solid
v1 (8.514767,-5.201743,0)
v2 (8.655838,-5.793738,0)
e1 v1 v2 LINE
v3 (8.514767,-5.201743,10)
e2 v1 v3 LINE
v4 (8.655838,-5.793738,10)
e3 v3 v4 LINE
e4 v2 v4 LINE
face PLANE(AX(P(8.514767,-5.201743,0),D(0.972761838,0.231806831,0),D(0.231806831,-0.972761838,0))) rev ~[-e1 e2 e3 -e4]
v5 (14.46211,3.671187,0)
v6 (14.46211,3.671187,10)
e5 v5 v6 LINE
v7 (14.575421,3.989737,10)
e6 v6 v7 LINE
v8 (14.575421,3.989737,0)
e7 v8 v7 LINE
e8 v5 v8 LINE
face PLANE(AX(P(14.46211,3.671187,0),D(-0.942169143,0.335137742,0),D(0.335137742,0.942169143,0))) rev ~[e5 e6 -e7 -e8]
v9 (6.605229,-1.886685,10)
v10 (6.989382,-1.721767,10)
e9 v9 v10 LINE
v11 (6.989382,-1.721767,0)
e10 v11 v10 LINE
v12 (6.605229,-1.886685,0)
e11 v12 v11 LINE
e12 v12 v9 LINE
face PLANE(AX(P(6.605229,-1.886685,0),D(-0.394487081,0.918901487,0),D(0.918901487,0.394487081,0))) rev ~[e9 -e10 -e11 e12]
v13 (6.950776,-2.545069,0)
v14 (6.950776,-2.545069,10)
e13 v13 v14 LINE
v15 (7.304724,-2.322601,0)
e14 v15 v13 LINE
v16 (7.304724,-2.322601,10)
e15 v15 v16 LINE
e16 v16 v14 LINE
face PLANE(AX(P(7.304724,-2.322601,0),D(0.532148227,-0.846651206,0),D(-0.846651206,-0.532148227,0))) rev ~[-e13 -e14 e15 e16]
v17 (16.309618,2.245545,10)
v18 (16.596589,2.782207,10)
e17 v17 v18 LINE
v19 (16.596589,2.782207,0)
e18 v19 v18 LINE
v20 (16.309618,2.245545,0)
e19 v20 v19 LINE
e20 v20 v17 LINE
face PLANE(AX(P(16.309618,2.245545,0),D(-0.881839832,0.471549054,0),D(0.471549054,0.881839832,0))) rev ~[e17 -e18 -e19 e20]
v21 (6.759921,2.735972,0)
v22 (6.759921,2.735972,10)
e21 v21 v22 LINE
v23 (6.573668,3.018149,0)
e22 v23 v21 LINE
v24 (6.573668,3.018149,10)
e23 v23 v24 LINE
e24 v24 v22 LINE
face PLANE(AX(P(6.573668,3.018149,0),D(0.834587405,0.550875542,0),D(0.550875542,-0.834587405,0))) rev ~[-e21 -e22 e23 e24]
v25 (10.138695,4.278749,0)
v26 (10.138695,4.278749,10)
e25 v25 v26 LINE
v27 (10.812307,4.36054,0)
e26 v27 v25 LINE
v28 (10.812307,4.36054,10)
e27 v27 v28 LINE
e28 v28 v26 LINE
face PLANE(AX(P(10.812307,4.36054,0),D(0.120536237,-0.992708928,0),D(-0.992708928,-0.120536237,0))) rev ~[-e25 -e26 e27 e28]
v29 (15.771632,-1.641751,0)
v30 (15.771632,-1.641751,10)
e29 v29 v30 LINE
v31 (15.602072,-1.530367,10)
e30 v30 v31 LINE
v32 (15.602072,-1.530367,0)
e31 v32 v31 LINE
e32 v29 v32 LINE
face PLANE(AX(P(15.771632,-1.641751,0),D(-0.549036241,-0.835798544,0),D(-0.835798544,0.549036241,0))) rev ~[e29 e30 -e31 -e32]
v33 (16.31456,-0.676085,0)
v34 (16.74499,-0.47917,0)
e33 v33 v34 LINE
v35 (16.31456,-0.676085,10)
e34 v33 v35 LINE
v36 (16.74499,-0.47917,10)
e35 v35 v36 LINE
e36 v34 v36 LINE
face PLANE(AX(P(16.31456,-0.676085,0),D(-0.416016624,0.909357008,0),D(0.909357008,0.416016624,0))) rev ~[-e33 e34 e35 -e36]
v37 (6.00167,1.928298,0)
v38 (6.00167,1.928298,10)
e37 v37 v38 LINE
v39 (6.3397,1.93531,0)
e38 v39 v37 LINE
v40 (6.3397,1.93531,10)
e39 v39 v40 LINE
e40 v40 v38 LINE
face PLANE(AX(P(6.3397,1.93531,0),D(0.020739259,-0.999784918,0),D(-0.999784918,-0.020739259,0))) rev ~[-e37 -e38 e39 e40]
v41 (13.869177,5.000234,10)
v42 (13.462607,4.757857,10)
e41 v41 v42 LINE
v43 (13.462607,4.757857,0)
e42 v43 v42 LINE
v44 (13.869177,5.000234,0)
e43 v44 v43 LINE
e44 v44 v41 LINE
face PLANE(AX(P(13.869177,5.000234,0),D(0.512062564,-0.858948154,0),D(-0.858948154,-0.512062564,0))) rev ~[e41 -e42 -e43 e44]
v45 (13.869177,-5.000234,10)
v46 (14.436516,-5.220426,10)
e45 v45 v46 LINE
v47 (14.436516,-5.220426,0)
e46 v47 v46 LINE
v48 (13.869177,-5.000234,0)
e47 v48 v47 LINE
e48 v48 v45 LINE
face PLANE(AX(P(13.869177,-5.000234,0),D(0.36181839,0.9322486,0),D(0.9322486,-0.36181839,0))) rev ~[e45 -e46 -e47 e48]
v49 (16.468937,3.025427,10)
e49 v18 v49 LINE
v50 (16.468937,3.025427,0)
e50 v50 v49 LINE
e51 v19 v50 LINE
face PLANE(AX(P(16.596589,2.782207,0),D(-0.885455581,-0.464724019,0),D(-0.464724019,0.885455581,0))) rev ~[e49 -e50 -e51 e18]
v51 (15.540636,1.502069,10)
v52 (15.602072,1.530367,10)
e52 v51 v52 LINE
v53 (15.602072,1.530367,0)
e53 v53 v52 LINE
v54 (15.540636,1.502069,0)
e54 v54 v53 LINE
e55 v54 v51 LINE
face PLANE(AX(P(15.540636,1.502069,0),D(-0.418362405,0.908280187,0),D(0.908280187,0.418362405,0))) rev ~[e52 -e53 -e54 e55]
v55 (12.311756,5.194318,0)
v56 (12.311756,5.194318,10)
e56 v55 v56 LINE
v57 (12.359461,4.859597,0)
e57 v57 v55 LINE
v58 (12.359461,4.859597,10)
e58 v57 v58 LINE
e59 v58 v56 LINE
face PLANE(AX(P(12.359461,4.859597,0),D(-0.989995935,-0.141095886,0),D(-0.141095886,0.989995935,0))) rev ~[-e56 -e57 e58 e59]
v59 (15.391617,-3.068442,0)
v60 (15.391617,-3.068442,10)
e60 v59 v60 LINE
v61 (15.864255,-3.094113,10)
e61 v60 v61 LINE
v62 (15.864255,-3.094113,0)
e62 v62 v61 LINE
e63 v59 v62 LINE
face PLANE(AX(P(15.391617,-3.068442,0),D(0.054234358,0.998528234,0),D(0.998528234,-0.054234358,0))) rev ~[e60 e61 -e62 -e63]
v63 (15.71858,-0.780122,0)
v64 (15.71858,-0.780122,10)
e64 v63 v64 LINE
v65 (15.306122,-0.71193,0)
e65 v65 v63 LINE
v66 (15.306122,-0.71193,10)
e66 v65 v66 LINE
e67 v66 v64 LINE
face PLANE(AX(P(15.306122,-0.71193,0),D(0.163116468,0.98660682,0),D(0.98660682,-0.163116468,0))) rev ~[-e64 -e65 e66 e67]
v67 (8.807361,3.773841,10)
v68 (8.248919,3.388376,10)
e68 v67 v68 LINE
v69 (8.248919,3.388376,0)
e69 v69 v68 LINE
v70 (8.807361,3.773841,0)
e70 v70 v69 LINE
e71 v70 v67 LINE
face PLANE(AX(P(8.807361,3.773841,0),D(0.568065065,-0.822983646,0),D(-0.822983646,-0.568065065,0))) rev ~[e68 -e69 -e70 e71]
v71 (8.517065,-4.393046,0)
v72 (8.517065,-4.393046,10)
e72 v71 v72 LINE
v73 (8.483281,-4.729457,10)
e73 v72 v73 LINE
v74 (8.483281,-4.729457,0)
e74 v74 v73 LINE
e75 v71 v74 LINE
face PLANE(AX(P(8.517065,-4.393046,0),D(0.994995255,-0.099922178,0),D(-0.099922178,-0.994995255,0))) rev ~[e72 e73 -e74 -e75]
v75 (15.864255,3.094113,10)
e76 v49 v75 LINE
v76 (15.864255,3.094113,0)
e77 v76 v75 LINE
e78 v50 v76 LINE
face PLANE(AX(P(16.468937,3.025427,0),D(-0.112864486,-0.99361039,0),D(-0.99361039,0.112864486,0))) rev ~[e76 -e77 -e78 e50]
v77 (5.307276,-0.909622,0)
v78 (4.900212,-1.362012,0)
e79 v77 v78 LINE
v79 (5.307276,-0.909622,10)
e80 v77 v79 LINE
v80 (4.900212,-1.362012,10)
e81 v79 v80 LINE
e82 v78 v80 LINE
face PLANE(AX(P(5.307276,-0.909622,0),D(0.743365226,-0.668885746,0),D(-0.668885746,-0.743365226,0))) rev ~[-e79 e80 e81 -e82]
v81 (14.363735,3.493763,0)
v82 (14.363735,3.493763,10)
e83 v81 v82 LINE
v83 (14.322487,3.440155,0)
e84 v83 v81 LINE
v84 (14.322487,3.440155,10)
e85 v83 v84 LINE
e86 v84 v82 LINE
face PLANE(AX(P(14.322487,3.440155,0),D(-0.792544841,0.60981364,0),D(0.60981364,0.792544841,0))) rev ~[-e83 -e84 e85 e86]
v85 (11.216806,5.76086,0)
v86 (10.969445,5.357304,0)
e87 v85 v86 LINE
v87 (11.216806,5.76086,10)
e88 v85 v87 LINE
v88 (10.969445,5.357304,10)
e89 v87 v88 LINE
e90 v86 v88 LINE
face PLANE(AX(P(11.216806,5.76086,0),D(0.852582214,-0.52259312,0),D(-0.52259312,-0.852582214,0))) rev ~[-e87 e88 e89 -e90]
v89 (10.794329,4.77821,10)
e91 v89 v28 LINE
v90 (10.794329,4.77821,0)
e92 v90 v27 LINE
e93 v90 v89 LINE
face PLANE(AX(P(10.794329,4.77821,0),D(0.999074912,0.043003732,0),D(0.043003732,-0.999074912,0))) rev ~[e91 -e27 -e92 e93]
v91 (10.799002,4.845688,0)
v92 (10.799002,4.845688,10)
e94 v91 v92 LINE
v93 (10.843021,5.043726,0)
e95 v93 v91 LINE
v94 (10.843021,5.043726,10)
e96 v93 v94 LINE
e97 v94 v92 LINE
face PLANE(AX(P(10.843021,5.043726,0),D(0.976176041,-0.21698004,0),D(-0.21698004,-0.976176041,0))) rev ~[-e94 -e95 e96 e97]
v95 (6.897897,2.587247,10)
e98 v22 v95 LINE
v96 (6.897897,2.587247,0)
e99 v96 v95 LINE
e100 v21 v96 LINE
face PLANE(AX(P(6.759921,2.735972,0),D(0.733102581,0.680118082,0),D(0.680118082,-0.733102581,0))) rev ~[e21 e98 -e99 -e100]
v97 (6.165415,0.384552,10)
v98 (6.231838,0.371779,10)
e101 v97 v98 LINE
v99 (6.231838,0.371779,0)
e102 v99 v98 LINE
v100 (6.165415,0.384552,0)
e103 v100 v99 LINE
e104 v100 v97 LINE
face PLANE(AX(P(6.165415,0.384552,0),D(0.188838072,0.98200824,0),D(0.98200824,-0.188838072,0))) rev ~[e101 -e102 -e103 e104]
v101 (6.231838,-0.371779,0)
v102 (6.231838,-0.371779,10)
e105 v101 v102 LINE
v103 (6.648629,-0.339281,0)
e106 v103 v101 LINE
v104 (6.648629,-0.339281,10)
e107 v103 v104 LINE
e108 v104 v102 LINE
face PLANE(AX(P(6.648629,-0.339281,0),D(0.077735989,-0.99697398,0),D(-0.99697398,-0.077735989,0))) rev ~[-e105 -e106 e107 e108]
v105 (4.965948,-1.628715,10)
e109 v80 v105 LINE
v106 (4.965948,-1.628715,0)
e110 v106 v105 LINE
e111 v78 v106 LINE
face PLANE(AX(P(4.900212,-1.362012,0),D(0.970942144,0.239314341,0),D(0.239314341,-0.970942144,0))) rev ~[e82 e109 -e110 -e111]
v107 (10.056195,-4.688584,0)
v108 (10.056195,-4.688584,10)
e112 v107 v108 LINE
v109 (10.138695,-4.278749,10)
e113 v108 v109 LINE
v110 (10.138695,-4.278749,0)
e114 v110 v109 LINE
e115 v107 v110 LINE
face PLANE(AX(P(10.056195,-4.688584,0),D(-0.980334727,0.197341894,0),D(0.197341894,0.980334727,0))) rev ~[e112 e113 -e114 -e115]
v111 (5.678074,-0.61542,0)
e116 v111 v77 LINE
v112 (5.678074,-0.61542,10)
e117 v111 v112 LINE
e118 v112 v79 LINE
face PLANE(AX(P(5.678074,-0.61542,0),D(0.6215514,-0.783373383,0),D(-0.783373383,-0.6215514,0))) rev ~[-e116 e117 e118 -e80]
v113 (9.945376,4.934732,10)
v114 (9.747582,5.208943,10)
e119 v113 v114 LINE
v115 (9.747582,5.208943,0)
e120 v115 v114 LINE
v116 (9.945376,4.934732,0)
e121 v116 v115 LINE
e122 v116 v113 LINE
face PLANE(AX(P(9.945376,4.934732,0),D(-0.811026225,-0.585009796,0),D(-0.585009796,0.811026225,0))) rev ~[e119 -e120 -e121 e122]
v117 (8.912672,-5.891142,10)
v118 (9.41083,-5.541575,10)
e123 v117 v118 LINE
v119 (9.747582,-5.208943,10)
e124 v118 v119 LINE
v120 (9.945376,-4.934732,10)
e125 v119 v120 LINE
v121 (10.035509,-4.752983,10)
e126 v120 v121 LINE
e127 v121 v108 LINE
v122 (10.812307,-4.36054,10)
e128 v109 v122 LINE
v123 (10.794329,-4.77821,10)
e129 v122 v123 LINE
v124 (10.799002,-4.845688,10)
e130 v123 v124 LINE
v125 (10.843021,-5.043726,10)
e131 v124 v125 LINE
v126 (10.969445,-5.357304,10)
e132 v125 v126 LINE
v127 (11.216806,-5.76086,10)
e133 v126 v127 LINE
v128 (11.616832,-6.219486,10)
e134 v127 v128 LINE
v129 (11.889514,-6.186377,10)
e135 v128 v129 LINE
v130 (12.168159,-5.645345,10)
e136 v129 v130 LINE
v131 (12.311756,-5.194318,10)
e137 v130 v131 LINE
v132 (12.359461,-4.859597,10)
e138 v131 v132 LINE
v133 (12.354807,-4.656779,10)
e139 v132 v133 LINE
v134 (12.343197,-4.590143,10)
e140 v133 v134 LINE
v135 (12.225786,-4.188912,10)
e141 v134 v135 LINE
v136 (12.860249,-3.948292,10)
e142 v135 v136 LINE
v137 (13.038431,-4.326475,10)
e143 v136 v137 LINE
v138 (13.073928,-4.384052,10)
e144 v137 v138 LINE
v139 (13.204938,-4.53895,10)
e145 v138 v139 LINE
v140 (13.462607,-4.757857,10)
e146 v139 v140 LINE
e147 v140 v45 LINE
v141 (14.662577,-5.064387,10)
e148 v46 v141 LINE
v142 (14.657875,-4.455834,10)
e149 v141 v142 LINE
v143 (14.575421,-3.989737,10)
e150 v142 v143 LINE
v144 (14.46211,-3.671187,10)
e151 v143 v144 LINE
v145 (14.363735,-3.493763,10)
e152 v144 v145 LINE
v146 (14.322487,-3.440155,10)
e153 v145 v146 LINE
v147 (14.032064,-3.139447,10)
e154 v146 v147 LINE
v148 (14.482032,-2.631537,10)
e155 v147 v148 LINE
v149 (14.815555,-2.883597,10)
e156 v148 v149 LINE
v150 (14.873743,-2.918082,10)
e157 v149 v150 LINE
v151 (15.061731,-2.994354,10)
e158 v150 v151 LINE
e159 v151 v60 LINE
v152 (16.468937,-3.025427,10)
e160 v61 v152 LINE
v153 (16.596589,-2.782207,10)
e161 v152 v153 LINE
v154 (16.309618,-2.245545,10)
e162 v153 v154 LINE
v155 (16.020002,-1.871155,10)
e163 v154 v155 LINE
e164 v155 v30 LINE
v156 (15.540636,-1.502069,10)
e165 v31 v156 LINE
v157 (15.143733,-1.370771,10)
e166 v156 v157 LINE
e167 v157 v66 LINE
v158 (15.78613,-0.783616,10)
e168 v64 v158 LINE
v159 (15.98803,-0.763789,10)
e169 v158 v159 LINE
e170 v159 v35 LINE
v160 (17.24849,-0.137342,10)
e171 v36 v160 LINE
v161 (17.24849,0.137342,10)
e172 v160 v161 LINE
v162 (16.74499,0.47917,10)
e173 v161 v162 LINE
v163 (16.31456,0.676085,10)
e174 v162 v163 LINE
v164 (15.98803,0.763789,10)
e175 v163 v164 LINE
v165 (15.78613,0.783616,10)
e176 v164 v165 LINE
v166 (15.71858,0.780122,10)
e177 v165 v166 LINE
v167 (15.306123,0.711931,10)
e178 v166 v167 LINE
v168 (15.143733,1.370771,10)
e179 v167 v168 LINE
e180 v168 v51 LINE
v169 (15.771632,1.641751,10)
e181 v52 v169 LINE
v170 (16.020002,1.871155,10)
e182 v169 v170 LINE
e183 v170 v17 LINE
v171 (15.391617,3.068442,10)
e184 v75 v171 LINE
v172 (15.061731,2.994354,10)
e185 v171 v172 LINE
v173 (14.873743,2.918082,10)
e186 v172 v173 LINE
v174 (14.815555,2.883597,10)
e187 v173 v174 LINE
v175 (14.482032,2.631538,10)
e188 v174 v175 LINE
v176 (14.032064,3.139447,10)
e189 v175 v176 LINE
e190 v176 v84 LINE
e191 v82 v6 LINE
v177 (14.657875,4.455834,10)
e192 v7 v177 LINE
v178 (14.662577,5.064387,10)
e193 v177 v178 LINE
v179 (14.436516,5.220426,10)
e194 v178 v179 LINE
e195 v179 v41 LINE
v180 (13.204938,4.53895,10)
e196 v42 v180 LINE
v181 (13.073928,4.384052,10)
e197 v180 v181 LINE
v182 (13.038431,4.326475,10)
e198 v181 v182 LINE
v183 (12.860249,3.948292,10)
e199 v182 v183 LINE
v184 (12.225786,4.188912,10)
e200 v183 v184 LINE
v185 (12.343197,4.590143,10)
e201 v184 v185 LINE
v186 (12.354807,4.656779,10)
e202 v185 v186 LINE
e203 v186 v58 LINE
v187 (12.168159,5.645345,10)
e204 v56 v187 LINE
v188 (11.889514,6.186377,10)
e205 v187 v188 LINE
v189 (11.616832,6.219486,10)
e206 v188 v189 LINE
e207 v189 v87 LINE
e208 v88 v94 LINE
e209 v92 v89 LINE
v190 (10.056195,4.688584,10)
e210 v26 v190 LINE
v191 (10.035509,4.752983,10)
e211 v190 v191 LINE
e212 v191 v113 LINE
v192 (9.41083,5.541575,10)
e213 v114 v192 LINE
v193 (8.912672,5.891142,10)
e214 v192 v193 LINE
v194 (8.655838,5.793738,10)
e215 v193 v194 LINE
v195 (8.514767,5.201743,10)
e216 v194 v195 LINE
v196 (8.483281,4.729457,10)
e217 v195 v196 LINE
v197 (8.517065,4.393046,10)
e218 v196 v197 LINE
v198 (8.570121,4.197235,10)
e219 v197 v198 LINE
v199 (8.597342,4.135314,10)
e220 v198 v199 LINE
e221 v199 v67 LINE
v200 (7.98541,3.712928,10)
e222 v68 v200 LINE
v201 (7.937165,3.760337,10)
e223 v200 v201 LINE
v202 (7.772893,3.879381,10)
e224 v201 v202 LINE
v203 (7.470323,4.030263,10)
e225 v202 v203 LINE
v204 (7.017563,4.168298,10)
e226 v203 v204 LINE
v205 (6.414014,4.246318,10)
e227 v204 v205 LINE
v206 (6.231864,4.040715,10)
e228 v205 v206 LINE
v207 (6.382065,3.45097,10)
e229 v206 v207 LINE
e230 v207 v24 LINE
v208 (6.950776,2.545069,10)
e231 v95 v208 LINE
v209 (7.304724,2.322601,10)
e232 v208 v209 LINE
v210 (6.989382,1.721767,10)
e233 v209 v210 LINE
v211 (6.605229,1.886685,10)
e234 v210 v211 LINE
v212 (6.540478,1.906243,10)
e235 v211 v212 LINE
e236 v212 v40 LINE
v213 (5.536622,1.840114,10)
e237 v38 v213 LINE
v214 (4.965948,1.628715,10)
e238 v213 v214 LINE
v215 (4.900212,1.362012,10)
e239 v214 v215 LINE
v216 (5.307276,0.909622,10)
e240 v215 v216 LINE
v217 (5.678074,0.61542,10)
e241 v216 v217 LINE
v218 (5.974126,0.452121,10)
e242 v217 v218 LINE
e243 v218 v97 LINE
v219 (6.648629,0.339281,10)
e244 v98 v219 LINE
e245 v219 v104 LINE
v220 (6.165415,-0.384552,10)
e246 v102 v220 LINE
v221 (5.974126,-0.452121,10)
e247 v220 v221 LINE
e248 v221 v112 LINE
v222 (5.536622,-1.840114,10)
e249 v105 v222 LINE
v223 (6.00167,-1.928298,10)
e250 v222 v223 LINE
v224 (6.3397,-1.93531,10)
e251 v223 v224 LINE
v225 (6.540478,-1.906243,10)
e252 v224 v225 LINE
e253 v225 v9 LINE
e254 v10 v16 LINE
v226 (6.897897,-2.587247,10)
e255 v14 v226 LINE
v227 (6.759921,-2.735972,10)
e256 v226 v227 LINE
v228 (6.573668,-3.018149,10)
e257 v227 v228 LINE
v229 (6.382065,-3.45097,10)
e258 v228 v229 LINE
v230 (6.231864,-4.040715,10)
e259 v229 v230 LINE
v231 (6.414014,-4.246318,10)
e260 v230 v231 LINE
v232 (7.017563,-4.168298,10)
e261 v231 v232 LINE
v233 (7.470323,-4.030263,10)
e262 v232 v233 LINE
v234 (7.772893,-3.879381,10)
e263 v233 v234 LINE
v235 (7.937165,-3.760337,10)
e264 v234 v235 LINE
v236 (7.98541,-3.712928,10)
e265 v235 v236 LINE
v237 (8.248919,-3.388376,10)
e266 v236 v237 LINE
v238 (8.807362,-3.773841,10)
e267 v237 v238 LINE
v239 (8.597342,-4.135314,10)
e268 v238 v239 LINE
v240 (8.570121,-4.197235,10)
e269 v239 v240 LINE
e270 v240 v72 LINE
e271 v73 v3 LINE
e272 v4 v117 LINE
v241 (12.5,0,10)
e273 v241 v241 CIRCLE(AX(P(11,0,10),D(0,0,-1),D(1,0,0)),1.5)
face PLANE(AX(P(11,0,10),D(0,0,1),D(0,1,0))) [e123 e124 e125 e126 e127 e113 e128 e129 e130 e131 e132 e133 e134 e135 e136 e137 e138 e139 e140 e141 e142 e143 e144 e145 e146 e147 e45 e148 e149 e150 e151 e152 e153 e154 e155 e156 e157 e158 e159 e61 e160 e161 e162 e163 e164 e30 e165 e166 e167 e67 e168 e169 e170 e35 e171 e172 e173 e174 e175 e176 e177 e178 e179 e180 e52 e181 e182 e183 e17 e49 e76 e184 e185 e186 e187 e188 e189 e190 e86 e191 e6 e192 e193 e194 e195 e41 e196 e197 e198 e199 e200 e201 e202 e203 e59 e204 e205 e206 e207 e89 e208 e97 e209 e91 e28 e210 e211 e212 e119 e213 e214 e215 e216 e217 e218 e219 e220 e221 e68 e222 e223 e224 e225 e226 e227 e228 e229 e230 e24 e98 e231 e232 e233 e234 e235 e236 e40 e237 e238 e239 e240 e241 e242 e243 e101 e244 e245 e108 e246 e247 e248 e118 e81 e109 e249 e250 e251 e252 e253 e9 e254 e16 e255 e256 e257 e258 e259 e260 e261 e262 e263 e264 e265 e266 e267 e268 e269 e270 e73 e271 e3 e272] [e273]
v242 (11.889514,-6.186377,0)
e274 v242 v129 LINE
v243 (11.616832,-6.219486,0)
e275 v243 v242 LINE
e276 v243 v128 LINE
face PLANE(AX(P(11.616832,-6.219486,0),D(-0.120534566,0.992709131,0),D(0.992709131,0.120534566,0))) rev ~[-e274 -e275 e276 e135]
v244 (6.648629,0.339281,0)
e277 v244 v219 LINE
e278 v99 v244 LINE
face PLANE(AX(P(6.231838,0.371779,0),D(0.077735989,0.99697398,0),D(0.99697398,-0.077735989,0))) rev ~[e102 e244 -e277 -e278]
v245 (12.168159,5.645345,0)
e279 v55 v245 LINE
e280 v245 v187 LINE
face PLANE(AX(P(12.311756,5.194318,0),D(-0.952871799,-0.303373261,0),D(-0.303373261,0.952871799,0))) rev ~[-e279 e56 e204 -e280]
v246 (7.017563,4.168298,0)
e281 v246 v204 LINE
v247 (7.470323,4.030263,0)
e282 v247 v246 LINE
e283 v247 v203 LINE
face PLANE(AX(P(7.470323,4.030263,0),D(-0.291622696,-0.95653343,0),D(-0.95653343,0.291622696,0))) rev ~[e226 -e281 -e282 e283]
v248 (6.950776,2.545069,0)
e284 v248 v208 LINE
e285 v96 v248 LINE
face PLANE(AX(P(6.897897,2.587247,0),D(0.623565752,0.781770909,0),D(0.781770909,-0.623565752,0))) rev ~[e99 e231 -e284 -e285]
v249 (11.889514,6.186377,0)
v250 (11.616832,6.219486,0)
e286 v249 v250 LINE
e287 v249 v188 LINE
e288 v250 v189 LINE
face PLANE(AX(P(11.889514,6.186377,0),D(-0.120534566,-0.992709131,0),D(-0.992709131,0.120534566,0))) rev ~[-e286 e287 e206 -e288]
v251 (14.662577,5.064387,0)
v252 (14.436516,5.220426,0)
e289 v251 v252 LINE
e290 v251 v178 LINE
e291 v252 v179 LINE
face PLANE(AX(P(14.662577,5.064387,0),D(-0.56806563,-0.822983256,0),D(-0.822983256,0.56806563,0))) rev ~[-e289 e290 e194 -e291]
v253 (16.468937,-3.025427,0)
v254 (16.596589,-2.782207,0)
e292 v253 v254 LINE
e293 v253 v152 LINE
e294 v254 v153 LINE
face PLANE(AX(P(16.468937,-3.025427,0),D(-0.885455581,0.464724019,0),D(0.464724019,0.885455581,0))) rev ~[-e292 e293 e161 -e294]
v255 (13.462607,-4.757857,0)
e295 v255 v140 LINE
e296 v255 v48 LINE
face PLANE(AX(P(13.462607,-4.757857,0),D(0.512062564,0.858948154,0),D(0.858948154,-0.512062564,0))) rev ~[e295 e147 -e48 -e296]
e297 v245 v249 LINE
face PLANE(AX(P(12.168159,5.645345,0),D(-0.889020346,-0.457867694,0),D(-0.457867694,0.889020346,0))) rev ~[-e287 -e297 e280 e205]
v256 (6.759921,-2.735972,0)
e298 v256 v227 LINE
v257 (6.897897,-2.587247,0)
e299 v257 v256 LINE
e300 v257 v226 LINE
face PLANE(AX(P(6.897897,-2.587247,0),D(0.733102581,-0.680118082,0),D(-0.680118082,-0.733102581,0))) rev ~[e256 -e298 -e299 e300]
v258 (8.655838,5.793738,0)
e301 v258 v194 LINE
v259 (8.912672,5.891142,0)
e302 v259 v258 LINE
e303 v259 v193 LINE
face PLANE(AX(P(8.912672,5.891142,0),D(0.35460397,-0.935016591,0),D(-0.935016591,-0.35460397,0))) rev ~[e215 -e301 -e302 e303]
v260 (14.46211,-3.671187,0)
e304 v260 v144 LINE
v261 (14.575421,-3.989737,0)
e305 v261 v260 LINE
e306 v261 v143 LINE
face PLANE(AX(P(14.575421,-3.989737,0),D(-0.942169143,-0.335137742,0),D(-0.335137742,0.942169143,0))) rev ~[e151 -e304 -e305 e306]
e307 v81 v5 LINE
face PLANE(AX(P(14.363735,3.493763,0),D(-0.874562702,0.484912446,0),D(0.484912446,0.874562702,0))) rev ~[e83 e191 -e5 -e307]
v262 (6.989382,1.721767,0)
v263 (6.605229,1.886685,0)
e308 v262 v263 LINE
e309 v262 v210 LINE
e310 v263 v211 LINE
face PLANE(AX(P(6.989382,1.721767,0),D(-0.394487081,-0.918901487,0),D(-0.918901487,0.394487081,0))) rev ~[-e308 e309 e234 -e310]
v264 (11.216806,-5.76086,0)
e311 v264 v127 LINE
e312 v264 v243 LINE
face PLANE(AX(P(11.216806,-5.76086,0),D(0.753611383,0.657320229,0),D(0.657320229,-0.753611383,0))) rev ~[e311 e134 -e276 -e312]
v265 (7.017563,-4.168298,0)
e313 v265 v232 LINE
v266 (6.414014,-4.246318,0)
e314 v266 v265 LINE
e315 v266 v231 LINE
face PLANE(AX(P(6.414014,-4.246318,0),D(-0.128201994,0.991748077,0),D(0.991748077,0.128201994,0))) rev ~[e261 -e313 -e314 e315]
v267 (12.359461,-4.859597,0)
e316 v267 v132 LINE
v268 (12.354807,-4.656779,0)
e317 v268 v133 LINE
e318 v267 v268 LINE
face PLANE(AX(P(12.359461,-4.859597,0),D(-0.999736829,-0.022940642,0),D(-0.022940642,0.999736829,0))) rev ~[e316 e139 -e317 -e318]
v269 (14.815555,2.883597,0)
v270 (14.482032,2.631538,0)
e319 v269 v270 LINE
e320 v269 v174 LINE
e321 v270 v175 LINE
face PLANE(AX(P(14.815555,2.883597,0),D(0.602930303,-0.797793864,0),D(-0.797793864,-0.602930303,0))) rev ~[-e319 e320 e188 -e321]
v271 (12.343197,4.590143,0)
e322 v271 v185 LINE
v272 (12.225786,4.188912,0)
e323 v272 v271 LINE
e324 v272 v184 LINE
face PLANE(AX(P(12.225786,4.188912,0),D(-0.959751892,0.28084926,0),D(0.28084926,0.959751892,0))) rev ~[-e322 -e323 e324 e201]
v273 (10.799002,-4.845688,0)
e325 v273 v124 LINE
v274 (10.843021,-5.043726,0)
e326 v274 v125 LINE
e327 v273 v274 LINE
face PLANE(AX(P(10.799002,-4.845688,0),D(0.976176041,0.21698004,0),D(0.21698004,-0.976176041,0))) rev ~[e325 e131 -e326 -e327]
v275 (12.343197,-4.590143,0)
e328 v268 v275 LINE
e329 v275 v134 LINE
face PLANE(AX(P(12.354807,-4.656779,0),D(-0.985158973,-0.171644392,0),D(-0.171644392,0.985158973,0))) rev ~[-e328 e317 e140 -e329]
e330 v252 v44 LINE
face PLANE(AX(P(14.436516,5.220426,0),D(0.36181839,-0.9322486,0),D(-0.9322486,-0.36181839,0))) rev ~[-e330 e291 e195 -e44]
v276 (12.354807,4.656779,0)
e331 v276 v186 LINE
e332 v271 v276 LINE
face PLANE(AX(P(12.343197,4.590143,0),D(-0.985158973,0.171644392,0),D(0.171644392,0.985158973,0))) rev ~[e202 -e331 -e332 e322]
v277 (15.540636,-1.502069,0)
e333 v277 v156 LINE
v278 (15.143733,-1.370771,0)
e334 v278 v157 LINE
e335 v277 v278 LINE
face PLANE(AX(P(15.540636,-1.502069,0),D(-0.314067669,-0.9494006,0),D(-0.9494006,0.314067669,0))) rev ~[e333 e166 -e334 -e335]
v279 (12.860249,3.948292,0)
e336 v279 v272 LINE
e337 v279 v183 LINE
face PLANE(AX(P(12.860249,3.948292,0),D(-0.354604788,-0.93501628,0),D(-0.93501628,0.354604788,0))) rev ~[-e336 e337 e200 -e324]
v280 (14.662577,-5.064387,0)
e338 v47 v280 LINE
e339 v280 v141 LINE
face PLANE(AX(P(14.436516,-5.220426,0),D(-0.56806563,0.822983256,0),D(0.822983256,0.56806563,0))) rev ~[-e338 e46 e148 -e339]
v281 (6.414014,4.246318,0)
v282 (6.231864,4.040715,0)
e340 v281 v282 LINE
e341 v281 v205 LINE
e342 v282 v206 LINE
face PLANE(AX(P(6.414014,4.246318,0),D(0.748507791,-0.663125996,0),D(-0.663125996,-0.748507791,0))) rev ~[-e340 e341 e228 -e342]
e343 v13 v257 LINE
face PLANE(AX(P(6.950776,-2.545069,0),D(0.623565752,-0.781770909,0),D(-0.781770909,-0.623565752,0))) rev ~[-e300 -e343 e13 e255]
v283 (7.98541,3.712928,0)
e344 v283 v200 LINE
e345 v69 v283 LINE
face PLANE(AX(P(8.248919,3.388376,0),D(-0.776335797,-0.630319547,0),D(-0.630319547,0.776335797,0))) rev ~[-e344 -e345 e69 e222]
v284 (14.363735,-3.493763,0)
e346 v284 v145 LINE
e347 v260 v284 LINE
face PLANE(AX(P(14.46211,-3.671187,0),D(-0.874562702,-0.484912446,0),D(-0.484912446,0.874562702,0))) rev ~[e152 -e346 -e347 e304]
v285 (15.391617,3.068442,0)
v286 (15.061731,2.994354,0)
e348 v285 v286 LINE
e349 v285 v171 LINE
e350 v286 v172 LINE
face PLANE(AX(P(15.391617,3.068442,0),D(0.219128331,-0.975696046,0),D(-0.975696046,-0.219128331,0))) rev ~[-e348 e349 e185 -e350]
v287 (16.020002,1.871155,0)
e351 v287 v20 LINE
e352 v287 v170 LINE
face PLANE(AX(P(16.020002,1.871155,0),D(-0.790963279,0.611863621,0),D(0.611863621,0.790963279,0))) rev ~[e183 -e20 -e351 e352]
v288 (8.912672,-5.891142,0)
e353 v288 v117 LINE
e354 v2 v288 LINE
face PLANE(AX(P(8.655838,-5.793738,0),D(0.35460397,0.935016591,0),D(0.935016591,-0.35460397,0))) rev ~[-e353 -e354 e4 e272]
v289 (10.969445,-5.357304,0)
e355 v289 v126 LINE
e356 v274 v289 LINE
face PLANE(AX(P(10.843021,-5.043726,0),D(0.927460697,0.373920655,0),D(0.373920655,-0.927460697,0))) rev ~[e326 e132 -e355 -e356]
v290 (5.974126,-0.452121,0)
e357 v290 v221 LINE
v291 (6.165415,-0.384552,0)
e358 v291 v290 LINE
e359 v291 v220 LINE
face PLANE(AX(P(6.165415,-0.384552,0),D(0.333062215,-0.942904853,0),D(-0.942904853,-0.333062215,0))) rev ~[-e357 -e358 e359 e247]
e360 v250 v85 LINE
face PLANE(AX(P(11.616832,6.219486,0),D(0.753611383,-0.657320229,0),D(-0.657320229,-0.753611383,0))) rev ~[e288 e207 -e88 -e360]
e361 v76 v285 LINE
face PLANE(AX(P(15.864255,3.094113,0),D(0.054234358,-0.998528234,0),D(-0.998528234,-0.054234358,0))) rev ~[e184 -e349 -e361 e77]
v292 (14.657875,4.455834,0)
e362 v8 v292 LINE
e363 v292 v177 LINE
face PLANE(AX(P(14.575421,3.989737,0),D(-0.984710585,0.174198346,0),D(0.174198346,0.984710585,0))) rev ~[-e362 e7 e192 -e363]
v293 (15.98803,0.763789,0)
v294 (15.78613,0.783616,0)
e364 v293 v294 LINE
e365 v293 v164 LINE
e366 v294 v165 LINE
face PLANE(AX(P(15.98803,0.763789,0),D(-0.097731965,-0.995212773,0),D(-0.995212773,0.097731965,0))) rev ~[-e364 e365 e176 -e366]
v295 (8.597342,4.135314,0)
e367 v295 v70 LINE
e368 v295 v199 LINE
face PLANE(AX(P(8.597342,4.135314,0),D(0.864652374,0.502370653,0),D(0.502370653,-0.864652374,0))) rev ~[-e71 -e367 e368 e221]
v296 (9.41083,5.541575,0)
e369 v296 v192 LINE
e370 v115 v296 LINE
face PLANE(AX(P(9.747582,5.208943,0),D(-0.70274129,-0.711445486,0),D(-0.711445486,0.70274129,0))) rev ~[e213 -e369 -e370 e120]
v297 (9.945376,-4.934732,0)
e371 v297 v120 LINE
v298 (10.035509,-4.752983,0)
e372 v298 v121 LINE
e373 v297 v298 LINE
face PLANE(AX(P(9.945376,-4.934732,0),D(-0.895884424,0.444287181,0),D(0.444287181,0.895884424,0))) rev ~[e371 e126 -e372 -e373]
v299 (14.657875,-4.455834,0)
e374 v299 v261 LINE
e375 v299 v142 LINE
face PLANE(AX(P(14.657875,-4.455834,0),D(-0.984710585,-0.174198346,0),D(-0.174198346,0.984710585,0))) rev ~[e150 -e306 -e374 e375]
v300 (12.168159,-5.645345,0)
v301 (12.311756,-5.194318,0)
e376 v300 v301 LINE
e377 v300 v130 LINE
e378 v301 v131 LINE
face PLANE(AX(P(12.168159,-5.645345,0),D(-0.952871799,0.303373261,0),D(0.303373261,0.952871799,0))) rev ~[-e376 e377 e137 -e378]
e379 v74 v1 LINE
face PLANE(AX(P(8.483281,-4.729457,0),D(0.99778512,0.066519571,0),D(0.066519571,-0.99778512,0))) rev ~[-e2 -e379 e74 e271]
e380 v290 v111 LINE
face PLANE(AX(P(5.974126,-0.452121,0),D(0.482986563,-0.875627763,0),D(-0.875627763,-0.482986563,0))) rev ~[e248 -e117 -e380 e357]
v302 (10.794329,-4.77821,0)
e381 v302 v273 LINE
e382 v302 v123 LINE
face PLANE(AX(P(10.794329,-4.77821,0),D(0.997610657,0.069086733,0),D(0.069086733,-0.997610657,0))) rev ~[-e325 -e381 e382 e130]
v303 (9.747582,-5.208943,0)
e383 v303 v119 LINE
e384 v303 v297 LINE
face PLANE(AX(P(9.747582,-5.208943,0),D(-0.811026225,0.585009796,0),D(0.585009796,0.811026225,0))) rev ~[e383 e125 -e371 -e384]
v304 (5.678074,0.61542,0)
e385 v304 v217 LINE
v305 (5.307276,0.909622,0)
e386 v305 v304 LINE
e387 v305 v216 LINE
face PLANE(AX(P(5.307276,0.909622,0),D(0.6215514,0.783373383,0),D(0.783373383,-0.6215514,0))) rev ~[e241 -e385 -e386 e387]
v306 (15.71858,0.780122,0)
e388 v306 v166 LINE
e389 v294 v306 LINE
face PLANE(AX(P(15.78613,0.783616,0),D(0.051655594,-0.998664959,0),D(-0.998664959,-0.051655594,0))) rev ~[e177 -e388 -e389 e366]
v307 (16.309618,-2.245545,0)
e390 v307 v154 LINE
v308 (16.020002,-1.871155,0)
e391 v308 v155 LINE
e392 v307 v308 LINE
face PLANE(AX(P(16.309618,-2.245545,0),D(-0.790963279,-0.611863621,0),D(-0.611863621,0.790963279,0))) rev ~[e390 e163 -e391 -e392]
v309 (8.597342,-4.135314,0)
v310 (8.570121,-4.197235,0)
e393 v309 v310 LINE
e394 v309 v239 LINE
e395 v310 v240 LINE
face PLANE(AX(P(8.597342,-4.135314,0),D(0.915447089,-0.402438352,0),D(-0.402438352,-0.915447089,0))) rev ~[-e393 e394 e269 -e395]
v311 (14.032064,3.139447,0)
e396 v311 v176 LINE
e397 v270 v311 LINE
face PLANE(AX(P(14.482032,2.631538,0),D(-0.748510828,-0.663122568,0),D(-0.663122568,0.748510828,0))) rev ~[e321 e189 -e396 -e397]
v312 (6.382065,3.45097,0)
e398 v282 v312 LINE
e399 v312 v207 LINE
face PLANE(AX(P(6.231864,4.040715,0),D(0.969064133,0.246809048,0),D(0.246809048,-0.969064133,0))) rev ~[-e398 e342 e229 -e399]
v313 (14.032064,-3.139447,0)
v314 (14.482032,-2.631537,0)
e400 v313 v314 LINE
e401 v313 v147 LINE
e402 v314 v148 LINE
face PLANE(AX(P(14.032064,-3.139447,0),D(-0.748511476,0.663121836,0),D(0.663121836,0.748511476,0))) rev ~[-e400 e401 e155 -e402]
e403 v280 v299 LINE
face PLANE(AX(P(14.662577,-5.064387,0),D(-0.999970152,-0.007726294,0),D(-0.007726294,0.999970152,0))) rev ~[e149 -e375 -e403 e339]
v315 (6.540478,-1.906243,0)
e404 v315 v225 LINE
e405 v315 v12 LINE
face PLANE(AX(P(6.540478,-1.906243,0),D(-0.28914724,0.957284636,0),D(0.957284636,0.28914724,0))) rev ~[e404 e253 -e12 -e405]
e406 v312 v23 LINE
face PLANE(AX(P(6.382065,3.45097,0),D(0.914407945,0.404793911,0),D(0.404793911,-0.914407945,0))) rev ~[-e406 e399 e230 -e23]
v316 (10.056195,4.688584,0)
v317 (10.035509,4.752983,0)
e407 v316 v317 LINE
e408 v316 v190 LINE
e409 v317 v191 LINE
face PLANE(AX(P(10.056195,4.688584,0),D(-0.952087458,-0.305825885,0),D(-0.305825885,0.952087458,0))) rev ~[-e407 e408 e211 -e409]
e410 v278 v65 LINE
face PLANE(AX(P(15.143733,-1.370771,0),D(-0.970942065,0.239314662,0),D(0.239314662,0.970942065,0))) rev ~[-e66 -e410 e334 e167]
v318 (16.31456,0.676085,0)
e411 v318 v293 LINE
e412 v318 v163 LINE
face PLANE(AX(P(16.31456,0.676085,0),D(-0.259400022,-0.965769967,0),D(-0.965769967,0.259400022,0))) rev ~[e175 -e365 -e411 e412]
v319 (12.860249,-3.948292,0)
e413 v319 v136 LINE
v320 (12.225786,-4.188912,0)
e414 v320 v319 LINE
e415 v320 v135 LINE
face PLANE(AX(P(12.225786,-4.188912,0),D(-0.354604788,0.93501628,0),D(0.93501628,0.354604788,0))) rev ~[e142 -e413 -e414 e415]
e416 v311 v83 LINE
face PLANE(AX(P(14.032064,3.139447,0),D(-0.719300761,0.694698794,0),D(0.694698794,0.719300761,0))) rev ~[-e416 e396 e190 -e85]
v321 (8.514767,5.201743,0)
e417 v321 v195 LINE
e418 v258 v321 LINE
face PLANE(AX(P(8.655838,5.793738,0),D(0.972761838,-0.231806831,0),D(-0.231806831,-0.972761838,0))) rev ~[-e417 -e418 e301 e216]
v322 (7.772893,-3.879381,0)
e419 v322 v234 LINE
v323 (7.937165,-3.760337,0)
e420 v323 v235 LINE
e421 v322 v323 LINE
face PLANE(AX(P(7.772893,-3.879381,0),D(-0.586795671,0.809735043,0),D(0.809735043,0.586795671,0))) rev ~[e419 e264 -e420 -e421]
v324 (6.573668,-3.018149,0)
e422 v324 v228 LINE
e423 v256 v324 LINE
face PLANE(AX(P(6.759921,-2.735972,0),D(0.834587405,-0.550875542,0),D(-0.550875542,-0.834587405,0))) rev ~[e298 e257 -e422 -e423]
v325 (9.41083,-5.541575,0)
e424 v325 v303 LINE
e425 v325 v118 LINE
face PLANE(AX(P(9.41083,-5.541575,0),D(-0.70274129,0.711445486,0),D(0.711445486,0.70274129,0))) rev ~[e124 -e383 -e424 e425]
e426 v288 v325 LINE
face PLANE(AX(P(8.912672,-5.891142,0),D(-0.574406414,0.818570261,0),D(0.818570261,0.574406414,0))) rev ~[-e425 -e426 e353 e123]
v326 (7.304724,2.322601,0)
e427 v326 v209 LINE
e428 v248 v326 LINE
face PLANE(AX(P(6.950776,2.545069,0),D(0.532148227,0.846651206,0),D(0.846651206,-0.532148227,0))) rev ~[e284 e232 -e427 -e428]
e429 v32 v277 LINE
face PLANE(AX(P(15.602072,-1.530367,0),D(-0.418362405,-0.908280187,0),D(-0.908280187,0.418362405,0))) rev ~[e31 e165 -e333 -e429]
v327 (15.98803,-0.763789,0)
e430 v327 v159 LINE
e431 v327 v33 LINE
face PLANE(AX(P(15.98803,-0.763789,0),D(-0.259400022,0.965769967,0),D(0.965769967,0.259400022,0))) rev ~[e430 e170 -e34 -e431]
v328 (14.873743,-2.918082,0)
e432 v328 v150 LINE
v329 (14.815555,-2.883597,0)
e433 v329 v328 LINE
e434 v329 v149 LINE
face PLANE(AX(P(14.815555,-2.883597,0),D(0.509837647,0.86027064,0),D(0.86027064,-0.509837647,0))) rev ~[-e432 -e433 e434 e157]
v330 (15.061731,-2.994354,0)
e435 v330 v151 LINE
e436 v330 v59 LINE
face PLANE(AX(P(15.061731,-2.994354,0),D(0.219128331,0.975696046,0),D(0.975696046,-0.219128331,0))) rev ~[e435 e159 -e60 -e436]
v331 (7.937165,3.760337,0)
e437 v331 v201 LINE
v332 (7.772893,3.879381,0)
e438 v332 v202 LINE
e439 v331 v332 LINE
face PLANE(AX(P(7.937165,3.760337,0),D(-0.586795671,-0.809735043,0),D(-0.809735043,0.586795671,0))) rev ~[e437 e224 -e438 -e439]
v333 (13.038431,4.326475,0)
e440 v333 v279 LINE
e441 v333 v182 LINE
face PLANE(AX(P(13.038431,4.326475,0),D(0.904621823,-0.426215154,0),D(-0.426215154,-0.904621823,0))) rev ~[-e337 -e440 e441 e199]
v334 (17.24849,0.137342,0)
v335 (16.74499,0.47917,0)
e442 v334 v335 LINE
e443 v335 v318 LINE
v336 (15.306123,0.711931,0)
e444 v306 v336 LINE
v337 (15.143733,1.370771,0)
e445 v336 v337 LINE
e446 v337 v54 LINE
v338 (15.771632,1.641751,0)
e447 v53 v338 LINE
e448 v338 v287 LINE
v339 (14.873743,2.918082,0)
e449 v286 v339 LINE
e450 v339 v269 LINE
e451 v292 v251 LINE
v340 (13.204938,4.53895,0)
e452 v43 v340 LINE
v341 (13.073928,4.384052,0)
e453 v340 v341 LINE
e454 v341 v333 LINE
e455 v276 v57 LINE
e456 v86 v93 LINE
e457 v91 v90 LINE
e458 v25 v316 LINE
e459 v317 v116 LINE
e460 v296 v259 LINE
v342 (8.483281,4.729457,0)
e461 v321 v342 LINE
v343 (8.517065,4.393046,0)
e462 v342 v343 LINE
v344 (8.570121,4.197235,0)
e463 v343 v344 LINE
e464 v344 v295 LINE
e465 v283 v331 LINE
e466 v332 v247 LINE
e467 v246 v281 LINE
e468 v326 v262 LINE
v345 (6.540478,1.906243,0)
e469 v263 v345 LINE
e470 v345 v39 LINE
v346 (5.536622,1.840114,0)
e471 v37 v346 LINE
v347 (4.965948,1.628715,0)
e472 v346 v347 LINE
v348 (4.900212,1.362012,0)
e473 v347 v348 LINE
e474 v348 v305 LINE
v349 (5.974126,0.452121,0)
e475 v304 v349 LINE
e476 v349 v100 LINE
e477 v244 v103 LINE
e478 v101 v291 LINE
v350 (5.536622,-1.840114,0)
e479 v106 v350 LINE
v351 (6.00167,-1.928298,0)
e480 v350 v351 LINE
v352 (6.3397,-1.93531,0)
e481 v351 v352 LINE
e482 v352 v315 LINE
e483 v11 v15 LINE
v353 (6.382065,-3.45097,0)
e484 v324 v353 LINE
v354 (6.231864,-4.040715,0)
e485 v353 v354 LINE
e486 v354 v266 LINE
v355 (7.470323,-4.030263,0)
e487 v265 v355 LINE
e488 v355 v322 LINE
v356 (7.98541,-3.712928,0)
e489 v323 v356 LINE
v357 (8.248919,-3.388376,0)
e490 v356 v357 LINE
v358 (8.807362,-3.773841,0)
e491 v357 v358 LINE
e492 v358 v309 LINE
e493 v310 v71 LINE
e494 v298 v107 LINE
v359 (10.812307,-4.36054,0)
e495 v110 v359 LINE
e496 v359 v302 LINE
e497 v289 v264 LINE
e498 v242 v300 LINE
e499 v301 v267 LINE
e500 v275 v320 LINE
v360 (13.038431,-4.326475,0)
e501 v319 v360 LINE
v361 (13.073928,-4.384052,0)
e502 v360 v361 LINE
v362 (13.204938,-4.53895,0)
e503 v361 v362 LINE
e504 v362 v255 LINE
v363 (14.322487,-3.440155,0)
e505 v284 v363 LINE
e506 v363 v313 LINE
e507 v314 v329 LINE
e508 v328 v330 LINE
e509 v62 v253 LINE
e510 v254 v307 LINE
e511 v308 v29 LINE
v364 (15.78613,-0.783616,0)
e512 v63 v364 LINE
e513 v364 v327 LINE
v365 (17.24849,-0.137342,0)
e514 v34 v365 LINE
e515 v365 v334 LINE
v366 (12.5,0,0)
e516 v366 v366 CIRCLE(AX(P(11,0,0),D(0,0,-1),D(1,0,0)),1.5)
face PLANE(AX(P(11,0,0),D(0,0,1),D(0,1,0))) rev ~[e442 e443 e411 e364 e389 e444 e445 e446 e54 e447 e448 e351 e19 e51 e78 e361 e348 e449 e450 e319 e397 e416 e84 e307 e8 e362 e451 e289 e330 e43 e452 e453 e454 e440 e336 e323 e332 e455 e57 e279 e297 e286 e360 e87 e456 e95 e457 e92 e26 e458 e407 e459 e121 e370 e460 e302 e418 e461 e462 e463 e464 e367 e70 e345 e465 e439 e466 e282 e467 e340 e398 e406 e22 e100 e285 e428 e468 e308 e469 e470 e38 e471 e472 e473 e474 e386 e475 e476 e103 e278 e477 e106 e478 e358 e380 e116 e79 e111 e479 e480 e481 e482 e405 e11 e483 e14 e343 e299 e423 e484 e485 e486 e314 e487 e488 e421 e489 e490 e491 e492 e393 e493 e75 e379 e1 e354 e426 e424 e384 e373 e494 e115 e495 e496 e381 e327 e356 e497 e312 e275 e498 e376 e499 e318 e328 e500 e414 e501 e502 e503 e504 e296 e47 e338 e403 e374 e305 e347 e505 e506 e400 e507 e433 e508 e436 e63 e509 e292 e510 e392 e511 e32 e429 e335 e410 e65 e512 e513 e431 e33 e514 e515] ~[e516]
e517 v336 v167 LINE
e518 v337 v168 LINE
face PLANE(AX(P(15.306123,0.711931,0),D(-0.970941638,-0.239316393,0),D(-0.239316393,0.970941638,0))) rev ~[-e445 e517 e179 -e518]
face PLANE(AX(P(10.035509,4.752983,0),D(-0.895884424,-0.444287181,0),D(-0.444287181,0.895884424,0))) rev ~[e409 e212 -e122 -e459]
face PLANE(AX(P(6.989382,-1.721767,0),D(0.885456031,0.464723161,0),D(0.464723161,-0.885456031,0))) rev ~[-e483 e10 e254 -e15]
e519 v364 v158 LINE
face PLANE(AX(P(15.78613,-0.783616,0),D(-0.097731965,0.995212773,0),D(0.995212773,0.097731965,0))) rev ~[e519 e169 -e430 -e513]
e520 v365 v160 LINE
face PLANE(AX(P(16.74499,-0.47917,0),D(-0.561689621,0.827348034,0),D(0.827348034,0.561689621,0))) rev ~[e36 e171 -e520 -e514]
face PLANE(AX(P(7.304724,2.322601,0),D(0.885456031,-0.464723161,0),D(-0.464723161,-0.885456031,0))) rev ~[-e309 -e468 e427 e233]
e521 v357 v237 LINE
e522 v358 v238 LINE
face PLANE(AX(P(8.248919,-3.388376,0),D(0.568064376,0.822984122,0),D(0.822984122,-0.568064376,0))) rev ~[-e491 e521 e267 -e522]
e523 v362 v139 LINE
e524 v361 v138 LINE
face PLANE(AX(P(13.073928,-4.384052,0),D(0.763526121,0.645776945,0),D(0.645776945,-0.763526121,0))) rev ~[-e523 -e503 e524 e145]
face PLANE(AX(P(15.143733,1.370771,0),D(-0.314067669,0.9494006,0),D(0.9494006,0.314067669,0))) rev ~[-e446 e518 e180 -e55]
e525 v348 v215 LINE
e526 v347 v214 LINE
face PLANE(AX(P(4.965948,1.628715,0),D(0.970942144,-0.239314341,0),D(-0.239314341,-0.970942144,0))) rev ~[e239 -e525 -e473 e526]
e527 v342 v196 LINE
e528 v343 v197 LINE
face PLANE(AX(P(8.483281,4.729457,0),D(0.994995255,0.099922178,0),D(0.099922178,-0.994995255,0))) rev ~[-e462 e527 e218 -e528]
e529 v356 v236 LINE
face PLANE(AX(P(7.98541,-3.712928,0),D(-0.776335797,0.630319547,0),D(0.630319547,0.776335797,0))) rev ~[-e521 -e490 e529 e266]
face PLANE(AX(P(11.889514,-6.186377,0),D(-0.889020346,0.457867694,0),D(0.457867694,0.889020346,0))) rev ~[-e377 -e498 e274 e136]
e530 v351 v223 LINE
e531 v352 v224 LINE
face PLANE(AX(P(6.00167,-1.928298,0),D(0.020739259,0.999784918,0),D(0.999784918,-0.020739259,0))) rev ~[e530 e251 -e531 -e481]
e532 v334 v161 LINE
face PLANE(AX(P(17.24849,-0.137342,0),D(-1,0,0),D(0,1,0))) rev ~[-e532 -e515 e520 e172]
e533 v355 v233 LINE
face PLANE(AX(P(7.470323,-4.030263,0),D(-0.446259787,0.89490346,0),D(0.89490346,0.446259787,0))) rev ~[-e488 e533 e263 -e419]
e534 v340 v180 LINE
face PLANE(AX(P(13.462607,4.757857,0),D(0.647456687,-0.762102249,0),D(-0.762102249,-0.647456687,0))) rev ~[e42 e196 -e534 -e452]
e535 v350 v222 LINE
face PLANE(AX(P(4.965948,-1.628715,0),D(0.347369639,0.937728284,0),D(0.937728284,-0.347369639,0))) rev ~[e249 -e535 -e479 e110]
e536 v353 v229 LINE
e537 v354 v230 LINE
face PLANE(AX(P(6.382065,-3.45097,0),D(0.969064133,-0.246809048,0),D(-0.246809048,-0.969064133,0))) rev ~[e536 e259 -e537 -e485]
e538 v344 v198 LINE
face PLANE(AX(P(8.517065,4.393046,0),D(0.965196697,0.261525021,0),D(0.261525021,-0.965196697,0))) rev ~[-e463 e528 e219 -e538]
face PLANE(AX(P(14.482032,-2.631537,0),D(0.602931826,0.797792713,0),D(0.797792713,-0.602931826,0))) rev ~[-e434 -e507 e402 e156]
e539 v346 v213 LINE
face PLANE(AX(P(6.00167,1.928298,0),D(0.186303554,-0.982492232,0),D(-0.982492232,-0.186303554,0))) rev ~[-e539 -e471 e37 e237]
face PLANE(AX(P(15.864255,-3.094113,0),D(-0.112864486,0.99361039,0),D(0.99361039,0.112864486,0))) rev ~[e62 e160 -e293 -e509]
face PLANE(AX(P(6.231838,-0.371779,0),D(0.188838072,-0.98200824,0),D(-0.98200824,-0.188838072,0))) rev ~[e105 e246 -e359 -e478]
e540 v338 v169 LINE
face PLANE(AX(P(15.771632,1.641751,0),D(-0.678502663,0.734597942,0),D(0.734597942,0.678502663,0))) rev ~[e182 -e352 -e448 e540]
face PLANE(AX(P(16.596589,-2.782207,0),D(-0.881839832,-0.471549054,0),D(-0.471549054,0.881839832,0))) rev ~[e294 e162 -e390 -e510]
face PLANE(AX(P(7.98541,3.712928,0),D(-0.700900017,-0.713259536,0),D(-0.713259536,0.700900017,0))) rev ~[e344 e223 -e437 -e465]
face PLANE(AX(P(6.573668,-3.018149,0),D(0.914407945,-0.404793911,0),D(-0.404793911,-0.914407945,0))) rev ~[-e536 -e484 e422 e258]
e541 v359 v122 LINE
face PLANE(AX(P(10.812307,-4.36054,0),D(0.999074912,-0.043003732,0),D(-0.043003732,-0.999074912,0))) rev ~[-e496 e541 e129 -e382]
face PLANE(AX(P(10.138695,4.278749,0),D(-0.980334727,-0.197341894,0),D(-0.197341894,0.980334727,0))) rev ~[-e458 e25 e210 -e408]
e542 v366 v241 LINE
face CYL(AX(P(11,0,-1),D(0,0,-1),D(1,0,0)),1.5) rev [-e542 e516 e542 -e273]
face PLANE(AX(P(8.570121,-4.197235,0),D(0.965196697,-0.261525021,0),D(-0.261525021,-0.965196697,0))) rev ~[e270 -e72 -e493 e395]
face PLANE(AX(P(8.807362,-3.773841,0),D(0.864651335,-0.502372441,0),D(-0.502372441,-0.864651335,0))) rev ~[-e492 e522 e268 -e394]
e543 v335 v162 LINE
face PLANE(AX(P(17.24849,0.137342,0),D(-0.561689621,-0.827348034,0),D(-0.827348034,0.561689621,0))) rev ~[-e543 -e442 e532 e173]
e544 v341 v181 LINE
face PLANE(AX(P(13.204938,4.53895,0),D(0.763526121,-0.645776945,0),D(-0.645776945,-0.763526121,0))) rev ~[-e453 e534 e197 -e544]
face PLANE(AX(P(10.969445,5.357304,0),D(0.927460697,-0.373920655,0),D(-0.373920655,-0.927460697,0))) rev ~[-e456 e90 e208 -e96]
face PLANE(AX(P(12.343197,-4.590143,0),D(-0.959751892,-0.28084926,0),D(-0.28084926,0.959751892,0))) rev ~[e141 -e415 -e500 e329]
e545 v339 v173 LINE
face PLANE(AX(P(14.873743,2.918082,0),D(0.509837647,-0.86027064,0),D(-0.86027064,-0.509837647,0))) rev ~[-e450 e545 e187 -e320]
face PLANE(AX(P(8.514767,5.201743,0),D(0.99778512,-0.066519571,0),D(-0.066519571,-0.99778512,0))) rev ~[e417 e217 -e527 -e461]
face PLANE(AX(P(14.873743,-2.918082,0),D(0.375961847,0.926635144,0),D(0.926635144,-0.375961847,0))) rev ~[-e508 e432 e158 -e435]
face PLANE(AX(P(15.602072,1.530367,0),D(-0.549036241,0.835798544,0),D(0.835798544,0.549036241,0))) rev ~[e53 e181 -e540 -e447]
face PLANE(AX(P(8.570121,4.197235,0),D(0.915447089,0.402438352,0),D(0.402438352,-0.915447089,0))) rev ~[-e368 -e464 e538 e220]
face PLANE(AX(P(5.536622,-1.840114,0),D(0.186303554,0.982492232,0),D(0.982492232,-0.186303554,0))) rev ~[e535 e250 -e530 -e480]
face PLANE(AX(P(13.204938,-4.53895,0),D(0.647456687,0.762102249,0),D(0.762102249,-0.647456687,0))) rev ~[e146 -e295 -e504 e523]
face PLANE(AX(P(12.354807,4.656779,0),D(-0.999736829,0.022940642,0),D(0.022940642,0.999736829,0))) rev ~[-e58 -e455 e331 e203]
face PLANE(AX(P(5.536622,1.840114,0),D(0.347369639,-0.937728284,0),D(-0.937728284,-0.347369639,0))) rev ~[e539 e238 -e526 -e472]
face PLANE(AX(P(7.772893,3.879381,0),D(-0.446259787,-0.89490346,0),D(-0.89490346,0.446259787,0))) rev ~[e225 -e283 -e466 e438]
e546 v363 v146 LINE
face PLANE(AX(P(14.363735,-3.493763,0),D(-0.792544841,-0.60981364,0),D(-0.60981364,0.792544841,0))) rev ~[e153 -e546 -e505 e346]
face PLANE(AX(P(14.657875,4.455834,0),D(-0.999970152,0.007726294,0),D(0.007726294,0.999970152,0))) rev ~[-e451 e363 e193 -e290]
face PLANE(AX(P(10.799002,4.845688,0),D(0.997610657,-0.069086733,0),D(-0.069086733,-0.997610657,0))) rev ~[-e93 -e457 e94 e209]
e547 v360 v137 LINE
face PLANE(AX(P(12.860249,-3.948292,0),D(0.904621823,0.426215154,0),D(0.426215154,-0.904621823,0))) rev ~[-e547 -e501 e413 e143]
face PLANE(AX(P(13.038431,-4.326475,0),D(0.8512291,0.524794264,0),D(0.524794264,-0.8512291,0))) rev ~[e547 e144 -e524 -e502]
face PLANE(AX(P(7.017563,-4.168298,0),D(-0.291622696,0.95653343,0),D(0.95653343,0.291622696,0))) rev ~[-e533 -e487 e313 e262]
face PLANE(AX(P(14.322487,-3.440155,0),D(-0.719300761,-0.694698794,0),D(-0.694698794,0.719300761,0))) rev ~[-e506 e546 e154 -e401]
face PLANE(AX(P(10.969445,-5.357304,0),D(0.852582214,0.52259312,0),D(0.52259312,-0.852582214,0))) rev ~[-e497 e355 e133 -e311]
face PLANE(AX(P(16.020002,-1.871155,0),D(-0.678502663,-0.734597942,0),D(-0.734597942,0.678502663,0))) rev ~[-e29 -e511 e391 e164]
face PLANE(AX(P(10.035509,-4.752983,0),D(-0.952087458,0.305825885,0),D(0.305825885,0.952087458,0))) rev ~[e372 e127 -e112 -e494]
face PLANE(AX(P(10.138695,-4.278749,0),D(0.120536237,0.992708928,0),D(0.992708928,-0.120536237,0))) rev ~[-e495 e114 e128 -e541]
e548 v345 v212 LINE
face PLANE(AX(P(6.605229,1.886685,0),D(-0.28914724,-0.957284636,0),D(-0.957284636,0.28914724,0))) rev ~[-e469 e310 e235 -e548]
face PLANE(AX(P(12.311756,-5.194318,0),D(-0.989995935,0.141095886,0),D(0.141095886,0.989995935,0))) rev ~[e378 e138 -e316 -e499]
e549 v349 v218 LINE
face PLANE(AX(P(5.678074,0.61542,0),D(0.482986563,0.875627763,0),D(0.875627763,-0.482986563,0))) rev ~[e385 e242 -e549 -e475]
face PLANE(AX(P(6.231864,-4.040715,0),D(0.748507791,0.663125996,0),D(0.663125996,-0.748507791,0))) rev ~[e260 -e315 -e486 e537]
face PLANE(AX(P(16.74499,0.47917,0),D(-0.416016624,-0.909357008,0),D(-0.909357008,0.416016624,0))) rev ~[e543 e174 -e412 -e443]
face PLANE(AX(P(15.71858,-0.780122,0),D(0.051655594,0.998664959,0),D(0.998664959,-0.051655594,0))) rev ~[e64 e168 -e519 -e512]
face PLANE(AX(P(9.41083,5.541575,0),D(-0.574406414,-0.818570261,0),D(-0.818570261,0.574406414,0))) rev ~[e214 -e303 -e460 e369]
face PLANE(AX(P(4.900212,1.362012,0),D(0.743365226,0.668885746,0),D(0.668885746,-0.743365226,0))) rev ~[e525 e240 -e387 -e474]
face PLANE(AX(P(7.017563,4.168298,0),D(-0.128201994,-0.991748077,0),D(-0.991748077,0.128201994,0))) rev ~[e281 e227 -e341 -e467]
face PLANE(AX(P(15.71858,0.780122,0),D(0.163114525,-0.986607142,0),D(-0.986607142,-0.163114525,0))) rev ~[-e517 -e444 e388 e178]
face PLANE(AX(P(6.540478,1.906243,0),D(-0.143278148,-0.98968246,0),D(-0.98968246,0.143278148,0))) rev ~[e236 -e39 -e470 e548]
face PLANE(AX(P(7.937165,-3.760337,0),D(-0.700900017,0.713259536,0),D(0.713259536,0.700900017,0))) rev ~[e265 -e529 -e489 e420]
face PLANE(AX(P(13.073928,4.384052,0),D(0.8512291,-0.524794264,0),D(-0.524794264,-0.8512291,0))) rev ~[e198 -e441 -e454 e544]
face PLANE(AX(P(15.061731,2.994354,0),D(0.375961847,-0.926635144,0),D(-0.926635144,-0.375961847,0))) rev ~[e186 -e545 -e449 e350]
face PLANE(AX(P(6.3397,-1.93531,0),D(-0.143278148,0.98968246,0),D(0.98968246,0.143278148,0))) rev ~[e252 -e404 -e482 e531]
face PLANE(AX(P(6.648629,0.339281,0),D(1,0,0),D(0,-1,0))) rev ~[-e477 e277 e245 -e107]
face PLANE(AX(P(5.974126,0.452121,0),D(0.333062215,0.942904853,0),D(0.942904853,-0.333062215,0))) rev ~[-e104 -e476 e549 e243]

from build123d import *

# Parameters (mm, degrees)
CYLINDER001_R          = 1.5
CYLINDER001_DEPTH      = 12
LINEAREXTRUDE001_DEPTH = 10


with BuildPart() as cylinder001:
    # cylinder001 → cylinder001 (new body)
    with BuildSketch(Plane.XY.offset(-1)):
        Circle(CYLINDER001_R)
    extrude(amount=CYLINDER001_DEPTH)


with BuildPart() as difference002:
    # union001 → LinearExtrude001 (new body)
    with BuildSketch(Plane(origin=(0, 0, 0), x_dir=(0, 1, 0), z_dir=(0, 0, 1))):
        Polygon((0.711931, -4.306123), (1.370771, -4.143733), (1.502069, -4.540636), (1.530367, -4.602072), (1.641751, -4.771632), (1.871155, -5.020002), (2.245545, -5.309618), (2.782207, -5.596589), (3.025427, -5.468937), (3.094113, -4.864255), (3.068442, -4.391617), (2.994354, -4.061731), (2.918082, -3.873743), (2.883597, -3.815555), (2.631538, -3.482032), (3.139447, -3.032064), (3.440155, -3.322487), (3.493763, -3.363735), (3.671187, -3.46211), (3.989737, -3.575421), (4.455834, -3.657875), (5.064387, -3.662577), (5.220426, -3.436516), (5.000234, -2.869177), (4.757857, -2.462607), (4.53895, -2.204938), (4.384052, -2.073928), (4.326475, -2.038431), (3.948292, -1.860249), (4.188912, -1.225786), (4.590143, -1.343197), (4.656779, -1.354807), (4.859597, -1.359461), (5.194318, -1.311756), (5.645345, -1.168159), (6.186377, -0.889514), (6.219486, -0.616832), (5.76086, -0.216806), (5.357304, 0.030555), (5.043726, 0.156979), (4.845688, 0.200998), (4.77821, 0.205671), (4.36054, 0.187693), (4.278749, 0.861305), (4.688584, 0.943805), (4.752983, 0.964491), (4.934732, 1.054624), (5.208943, 1.252418), (5.541575, 1.58917), (5.891142, 2.087328), (5.793738, 2.344162), (5.201743, 2.485233), (4.729457, 2.516719), (4.393046, 2.482935), (4.197235, 2.429879), (4.135314, 2.402658), (3.773841, 2.192639), (3.388376, 2.751081), (3.712928, 3.01459), (3.760337, 3.062835), (3.879381, 3.227107), (4.030263, 3.529677), (4.168298, 3.982437), (4.246318, 4.585986), (4.040715, 4.768136), (3.45097, 4.617935), (3.018149, 4.426332), (2.735972, 4.240079), (2.587247, 4.102103), (2.545069, 4.049224), (2.322601, 3.695276), (1.721767, 4.010618), (1.886685, 4.394771), (1.906243, 4.459522), (1.93531, 4.6603), (1.928298, 4.99833), (1.840114, 5.463378), (1.628715, 6.034052), (1.362012, 6.099788), (0.909622, 5.692724), (0.61542, 5.321926), (0.452121, 5.025874), (0.384552, 4.834585), (0.371779, 4.768162), (0.339281, 4.351371), (-0.339281, 4.351371), (-0.371779, 4.768162), (-0.384552, 4.834585), (-0.452121, 5.025874), (-0.61542, 5.321926), (-0.909622, 5.692724), (-1.362012, 6.099788), (-1.628715, 6.034052), (-1.840114, 5.463378), (-1.928298, 4.99833), (-1.93531, 4.6603), (-1.906243, 4.459522), (-1.886685, 4.394771), (-1.721767, 4.010618), (-2.322601, 3.695276), (-2.545069, 4.049224), (-2.587247, 4.102103), (-2.735972, 4.240079), (-3.018149, 4.426332), (-3.45097, 4.617935), (-4.040715, 4.768136), (-4.246318, 4.585986), (-4.168298, 3.982437), (-4.030263, 3.529677), (-3.879381, 3.227107), (-3.760337, 3.062835), (-3.712928, 3.01459), (-3.388376, 2.751081), (-3.773841, 2.192638), (-4.135314, 2.402658), (-4.197235, 2.429879), (-4.393046, 2.482935), (-4.729457, 2.516719), (-5.201743, 2.485233), (-5.793738, 2.344162), (-5.891142, 2.087328), (-5.541575, 1.58917), (-5.208943, 1.252418), (-4.934732, 1.054624), (-4.752983, 0.964491), (-4.688584, 0.943805), (-4.278749, 0.861305), (-4.36054, 0.187693), (-4.77821, 0.205671), (-4.845688, 0.200998), (-5.043726, 0.156979), (-5.357304, 0.030555), (-5.76086, -0.216806), (-6.219486, -0.616832), (-6.186377, -0.889514), (-5.645345, -1.168159), (-5.194318, -1.311756), (-4.859597, -1.359461), (-4.656779, -1.354807), (-4.590143, -1.343197), (-4.188912, -1.225786), (-3.948292, -1.860249), (-4.326475, -2.038431), (-4.384052, -2.073928), (-4.53895, -2.204938), (-4.757857, -2.462607), (-5.000234, -2.869177), (-5.220426, -3.436516), (-5.064387, -3.662577), (-4.455834, -3.657875), (-3.989737, -3.575421), (-3.671187, -3.46211), (-3.493763, -3.363735), (-3.440155, -3.322487), (-3.139447, -3.032064), (-2.631537, -3.482032), (-2.883597, -3.815555), (-2.918082, -3.873743), (-2.994354, -4.061731), (-3.068442, -4.391617), (-3.094113, -4.864255), (-3.025427, -5.468937), (-2.782207, -5.596589), (-2.245545, -5.309618), (-1.871155, -5.020002), (-1.641751, -4.771632), (-1.530367, -4.602072), (-1.502069, -4.540636), (-1.370771, -4.143733), (-0.71193, -4.306122), (-0.780122, -4.71858), (-0.783616, -4.78613), (-0.763789, -4.98803), (-0.676085, -5.31456), (-0.47917, -5.74499), (-0.137342, -6.24849), (0.137342, -6.24849), (0.47917, -5.74499), (0.676085, -5.31456), (0.763789, -4.98803), (0.783616, -4.78613), (0.780122, -4.71858), align=None)
    extrude(amount=LINEAREXTRUDE001_DEPTH)

    # difference002: cut cylinder001
    add(cylinder001.part, mode=Mode.SUBTRACT)


with BuildPart() as difference002_1:
    # difference002 placement: moved
    add(difference002.part.moved(Location((11, 0, 0))))


solid = difference002_1.part
